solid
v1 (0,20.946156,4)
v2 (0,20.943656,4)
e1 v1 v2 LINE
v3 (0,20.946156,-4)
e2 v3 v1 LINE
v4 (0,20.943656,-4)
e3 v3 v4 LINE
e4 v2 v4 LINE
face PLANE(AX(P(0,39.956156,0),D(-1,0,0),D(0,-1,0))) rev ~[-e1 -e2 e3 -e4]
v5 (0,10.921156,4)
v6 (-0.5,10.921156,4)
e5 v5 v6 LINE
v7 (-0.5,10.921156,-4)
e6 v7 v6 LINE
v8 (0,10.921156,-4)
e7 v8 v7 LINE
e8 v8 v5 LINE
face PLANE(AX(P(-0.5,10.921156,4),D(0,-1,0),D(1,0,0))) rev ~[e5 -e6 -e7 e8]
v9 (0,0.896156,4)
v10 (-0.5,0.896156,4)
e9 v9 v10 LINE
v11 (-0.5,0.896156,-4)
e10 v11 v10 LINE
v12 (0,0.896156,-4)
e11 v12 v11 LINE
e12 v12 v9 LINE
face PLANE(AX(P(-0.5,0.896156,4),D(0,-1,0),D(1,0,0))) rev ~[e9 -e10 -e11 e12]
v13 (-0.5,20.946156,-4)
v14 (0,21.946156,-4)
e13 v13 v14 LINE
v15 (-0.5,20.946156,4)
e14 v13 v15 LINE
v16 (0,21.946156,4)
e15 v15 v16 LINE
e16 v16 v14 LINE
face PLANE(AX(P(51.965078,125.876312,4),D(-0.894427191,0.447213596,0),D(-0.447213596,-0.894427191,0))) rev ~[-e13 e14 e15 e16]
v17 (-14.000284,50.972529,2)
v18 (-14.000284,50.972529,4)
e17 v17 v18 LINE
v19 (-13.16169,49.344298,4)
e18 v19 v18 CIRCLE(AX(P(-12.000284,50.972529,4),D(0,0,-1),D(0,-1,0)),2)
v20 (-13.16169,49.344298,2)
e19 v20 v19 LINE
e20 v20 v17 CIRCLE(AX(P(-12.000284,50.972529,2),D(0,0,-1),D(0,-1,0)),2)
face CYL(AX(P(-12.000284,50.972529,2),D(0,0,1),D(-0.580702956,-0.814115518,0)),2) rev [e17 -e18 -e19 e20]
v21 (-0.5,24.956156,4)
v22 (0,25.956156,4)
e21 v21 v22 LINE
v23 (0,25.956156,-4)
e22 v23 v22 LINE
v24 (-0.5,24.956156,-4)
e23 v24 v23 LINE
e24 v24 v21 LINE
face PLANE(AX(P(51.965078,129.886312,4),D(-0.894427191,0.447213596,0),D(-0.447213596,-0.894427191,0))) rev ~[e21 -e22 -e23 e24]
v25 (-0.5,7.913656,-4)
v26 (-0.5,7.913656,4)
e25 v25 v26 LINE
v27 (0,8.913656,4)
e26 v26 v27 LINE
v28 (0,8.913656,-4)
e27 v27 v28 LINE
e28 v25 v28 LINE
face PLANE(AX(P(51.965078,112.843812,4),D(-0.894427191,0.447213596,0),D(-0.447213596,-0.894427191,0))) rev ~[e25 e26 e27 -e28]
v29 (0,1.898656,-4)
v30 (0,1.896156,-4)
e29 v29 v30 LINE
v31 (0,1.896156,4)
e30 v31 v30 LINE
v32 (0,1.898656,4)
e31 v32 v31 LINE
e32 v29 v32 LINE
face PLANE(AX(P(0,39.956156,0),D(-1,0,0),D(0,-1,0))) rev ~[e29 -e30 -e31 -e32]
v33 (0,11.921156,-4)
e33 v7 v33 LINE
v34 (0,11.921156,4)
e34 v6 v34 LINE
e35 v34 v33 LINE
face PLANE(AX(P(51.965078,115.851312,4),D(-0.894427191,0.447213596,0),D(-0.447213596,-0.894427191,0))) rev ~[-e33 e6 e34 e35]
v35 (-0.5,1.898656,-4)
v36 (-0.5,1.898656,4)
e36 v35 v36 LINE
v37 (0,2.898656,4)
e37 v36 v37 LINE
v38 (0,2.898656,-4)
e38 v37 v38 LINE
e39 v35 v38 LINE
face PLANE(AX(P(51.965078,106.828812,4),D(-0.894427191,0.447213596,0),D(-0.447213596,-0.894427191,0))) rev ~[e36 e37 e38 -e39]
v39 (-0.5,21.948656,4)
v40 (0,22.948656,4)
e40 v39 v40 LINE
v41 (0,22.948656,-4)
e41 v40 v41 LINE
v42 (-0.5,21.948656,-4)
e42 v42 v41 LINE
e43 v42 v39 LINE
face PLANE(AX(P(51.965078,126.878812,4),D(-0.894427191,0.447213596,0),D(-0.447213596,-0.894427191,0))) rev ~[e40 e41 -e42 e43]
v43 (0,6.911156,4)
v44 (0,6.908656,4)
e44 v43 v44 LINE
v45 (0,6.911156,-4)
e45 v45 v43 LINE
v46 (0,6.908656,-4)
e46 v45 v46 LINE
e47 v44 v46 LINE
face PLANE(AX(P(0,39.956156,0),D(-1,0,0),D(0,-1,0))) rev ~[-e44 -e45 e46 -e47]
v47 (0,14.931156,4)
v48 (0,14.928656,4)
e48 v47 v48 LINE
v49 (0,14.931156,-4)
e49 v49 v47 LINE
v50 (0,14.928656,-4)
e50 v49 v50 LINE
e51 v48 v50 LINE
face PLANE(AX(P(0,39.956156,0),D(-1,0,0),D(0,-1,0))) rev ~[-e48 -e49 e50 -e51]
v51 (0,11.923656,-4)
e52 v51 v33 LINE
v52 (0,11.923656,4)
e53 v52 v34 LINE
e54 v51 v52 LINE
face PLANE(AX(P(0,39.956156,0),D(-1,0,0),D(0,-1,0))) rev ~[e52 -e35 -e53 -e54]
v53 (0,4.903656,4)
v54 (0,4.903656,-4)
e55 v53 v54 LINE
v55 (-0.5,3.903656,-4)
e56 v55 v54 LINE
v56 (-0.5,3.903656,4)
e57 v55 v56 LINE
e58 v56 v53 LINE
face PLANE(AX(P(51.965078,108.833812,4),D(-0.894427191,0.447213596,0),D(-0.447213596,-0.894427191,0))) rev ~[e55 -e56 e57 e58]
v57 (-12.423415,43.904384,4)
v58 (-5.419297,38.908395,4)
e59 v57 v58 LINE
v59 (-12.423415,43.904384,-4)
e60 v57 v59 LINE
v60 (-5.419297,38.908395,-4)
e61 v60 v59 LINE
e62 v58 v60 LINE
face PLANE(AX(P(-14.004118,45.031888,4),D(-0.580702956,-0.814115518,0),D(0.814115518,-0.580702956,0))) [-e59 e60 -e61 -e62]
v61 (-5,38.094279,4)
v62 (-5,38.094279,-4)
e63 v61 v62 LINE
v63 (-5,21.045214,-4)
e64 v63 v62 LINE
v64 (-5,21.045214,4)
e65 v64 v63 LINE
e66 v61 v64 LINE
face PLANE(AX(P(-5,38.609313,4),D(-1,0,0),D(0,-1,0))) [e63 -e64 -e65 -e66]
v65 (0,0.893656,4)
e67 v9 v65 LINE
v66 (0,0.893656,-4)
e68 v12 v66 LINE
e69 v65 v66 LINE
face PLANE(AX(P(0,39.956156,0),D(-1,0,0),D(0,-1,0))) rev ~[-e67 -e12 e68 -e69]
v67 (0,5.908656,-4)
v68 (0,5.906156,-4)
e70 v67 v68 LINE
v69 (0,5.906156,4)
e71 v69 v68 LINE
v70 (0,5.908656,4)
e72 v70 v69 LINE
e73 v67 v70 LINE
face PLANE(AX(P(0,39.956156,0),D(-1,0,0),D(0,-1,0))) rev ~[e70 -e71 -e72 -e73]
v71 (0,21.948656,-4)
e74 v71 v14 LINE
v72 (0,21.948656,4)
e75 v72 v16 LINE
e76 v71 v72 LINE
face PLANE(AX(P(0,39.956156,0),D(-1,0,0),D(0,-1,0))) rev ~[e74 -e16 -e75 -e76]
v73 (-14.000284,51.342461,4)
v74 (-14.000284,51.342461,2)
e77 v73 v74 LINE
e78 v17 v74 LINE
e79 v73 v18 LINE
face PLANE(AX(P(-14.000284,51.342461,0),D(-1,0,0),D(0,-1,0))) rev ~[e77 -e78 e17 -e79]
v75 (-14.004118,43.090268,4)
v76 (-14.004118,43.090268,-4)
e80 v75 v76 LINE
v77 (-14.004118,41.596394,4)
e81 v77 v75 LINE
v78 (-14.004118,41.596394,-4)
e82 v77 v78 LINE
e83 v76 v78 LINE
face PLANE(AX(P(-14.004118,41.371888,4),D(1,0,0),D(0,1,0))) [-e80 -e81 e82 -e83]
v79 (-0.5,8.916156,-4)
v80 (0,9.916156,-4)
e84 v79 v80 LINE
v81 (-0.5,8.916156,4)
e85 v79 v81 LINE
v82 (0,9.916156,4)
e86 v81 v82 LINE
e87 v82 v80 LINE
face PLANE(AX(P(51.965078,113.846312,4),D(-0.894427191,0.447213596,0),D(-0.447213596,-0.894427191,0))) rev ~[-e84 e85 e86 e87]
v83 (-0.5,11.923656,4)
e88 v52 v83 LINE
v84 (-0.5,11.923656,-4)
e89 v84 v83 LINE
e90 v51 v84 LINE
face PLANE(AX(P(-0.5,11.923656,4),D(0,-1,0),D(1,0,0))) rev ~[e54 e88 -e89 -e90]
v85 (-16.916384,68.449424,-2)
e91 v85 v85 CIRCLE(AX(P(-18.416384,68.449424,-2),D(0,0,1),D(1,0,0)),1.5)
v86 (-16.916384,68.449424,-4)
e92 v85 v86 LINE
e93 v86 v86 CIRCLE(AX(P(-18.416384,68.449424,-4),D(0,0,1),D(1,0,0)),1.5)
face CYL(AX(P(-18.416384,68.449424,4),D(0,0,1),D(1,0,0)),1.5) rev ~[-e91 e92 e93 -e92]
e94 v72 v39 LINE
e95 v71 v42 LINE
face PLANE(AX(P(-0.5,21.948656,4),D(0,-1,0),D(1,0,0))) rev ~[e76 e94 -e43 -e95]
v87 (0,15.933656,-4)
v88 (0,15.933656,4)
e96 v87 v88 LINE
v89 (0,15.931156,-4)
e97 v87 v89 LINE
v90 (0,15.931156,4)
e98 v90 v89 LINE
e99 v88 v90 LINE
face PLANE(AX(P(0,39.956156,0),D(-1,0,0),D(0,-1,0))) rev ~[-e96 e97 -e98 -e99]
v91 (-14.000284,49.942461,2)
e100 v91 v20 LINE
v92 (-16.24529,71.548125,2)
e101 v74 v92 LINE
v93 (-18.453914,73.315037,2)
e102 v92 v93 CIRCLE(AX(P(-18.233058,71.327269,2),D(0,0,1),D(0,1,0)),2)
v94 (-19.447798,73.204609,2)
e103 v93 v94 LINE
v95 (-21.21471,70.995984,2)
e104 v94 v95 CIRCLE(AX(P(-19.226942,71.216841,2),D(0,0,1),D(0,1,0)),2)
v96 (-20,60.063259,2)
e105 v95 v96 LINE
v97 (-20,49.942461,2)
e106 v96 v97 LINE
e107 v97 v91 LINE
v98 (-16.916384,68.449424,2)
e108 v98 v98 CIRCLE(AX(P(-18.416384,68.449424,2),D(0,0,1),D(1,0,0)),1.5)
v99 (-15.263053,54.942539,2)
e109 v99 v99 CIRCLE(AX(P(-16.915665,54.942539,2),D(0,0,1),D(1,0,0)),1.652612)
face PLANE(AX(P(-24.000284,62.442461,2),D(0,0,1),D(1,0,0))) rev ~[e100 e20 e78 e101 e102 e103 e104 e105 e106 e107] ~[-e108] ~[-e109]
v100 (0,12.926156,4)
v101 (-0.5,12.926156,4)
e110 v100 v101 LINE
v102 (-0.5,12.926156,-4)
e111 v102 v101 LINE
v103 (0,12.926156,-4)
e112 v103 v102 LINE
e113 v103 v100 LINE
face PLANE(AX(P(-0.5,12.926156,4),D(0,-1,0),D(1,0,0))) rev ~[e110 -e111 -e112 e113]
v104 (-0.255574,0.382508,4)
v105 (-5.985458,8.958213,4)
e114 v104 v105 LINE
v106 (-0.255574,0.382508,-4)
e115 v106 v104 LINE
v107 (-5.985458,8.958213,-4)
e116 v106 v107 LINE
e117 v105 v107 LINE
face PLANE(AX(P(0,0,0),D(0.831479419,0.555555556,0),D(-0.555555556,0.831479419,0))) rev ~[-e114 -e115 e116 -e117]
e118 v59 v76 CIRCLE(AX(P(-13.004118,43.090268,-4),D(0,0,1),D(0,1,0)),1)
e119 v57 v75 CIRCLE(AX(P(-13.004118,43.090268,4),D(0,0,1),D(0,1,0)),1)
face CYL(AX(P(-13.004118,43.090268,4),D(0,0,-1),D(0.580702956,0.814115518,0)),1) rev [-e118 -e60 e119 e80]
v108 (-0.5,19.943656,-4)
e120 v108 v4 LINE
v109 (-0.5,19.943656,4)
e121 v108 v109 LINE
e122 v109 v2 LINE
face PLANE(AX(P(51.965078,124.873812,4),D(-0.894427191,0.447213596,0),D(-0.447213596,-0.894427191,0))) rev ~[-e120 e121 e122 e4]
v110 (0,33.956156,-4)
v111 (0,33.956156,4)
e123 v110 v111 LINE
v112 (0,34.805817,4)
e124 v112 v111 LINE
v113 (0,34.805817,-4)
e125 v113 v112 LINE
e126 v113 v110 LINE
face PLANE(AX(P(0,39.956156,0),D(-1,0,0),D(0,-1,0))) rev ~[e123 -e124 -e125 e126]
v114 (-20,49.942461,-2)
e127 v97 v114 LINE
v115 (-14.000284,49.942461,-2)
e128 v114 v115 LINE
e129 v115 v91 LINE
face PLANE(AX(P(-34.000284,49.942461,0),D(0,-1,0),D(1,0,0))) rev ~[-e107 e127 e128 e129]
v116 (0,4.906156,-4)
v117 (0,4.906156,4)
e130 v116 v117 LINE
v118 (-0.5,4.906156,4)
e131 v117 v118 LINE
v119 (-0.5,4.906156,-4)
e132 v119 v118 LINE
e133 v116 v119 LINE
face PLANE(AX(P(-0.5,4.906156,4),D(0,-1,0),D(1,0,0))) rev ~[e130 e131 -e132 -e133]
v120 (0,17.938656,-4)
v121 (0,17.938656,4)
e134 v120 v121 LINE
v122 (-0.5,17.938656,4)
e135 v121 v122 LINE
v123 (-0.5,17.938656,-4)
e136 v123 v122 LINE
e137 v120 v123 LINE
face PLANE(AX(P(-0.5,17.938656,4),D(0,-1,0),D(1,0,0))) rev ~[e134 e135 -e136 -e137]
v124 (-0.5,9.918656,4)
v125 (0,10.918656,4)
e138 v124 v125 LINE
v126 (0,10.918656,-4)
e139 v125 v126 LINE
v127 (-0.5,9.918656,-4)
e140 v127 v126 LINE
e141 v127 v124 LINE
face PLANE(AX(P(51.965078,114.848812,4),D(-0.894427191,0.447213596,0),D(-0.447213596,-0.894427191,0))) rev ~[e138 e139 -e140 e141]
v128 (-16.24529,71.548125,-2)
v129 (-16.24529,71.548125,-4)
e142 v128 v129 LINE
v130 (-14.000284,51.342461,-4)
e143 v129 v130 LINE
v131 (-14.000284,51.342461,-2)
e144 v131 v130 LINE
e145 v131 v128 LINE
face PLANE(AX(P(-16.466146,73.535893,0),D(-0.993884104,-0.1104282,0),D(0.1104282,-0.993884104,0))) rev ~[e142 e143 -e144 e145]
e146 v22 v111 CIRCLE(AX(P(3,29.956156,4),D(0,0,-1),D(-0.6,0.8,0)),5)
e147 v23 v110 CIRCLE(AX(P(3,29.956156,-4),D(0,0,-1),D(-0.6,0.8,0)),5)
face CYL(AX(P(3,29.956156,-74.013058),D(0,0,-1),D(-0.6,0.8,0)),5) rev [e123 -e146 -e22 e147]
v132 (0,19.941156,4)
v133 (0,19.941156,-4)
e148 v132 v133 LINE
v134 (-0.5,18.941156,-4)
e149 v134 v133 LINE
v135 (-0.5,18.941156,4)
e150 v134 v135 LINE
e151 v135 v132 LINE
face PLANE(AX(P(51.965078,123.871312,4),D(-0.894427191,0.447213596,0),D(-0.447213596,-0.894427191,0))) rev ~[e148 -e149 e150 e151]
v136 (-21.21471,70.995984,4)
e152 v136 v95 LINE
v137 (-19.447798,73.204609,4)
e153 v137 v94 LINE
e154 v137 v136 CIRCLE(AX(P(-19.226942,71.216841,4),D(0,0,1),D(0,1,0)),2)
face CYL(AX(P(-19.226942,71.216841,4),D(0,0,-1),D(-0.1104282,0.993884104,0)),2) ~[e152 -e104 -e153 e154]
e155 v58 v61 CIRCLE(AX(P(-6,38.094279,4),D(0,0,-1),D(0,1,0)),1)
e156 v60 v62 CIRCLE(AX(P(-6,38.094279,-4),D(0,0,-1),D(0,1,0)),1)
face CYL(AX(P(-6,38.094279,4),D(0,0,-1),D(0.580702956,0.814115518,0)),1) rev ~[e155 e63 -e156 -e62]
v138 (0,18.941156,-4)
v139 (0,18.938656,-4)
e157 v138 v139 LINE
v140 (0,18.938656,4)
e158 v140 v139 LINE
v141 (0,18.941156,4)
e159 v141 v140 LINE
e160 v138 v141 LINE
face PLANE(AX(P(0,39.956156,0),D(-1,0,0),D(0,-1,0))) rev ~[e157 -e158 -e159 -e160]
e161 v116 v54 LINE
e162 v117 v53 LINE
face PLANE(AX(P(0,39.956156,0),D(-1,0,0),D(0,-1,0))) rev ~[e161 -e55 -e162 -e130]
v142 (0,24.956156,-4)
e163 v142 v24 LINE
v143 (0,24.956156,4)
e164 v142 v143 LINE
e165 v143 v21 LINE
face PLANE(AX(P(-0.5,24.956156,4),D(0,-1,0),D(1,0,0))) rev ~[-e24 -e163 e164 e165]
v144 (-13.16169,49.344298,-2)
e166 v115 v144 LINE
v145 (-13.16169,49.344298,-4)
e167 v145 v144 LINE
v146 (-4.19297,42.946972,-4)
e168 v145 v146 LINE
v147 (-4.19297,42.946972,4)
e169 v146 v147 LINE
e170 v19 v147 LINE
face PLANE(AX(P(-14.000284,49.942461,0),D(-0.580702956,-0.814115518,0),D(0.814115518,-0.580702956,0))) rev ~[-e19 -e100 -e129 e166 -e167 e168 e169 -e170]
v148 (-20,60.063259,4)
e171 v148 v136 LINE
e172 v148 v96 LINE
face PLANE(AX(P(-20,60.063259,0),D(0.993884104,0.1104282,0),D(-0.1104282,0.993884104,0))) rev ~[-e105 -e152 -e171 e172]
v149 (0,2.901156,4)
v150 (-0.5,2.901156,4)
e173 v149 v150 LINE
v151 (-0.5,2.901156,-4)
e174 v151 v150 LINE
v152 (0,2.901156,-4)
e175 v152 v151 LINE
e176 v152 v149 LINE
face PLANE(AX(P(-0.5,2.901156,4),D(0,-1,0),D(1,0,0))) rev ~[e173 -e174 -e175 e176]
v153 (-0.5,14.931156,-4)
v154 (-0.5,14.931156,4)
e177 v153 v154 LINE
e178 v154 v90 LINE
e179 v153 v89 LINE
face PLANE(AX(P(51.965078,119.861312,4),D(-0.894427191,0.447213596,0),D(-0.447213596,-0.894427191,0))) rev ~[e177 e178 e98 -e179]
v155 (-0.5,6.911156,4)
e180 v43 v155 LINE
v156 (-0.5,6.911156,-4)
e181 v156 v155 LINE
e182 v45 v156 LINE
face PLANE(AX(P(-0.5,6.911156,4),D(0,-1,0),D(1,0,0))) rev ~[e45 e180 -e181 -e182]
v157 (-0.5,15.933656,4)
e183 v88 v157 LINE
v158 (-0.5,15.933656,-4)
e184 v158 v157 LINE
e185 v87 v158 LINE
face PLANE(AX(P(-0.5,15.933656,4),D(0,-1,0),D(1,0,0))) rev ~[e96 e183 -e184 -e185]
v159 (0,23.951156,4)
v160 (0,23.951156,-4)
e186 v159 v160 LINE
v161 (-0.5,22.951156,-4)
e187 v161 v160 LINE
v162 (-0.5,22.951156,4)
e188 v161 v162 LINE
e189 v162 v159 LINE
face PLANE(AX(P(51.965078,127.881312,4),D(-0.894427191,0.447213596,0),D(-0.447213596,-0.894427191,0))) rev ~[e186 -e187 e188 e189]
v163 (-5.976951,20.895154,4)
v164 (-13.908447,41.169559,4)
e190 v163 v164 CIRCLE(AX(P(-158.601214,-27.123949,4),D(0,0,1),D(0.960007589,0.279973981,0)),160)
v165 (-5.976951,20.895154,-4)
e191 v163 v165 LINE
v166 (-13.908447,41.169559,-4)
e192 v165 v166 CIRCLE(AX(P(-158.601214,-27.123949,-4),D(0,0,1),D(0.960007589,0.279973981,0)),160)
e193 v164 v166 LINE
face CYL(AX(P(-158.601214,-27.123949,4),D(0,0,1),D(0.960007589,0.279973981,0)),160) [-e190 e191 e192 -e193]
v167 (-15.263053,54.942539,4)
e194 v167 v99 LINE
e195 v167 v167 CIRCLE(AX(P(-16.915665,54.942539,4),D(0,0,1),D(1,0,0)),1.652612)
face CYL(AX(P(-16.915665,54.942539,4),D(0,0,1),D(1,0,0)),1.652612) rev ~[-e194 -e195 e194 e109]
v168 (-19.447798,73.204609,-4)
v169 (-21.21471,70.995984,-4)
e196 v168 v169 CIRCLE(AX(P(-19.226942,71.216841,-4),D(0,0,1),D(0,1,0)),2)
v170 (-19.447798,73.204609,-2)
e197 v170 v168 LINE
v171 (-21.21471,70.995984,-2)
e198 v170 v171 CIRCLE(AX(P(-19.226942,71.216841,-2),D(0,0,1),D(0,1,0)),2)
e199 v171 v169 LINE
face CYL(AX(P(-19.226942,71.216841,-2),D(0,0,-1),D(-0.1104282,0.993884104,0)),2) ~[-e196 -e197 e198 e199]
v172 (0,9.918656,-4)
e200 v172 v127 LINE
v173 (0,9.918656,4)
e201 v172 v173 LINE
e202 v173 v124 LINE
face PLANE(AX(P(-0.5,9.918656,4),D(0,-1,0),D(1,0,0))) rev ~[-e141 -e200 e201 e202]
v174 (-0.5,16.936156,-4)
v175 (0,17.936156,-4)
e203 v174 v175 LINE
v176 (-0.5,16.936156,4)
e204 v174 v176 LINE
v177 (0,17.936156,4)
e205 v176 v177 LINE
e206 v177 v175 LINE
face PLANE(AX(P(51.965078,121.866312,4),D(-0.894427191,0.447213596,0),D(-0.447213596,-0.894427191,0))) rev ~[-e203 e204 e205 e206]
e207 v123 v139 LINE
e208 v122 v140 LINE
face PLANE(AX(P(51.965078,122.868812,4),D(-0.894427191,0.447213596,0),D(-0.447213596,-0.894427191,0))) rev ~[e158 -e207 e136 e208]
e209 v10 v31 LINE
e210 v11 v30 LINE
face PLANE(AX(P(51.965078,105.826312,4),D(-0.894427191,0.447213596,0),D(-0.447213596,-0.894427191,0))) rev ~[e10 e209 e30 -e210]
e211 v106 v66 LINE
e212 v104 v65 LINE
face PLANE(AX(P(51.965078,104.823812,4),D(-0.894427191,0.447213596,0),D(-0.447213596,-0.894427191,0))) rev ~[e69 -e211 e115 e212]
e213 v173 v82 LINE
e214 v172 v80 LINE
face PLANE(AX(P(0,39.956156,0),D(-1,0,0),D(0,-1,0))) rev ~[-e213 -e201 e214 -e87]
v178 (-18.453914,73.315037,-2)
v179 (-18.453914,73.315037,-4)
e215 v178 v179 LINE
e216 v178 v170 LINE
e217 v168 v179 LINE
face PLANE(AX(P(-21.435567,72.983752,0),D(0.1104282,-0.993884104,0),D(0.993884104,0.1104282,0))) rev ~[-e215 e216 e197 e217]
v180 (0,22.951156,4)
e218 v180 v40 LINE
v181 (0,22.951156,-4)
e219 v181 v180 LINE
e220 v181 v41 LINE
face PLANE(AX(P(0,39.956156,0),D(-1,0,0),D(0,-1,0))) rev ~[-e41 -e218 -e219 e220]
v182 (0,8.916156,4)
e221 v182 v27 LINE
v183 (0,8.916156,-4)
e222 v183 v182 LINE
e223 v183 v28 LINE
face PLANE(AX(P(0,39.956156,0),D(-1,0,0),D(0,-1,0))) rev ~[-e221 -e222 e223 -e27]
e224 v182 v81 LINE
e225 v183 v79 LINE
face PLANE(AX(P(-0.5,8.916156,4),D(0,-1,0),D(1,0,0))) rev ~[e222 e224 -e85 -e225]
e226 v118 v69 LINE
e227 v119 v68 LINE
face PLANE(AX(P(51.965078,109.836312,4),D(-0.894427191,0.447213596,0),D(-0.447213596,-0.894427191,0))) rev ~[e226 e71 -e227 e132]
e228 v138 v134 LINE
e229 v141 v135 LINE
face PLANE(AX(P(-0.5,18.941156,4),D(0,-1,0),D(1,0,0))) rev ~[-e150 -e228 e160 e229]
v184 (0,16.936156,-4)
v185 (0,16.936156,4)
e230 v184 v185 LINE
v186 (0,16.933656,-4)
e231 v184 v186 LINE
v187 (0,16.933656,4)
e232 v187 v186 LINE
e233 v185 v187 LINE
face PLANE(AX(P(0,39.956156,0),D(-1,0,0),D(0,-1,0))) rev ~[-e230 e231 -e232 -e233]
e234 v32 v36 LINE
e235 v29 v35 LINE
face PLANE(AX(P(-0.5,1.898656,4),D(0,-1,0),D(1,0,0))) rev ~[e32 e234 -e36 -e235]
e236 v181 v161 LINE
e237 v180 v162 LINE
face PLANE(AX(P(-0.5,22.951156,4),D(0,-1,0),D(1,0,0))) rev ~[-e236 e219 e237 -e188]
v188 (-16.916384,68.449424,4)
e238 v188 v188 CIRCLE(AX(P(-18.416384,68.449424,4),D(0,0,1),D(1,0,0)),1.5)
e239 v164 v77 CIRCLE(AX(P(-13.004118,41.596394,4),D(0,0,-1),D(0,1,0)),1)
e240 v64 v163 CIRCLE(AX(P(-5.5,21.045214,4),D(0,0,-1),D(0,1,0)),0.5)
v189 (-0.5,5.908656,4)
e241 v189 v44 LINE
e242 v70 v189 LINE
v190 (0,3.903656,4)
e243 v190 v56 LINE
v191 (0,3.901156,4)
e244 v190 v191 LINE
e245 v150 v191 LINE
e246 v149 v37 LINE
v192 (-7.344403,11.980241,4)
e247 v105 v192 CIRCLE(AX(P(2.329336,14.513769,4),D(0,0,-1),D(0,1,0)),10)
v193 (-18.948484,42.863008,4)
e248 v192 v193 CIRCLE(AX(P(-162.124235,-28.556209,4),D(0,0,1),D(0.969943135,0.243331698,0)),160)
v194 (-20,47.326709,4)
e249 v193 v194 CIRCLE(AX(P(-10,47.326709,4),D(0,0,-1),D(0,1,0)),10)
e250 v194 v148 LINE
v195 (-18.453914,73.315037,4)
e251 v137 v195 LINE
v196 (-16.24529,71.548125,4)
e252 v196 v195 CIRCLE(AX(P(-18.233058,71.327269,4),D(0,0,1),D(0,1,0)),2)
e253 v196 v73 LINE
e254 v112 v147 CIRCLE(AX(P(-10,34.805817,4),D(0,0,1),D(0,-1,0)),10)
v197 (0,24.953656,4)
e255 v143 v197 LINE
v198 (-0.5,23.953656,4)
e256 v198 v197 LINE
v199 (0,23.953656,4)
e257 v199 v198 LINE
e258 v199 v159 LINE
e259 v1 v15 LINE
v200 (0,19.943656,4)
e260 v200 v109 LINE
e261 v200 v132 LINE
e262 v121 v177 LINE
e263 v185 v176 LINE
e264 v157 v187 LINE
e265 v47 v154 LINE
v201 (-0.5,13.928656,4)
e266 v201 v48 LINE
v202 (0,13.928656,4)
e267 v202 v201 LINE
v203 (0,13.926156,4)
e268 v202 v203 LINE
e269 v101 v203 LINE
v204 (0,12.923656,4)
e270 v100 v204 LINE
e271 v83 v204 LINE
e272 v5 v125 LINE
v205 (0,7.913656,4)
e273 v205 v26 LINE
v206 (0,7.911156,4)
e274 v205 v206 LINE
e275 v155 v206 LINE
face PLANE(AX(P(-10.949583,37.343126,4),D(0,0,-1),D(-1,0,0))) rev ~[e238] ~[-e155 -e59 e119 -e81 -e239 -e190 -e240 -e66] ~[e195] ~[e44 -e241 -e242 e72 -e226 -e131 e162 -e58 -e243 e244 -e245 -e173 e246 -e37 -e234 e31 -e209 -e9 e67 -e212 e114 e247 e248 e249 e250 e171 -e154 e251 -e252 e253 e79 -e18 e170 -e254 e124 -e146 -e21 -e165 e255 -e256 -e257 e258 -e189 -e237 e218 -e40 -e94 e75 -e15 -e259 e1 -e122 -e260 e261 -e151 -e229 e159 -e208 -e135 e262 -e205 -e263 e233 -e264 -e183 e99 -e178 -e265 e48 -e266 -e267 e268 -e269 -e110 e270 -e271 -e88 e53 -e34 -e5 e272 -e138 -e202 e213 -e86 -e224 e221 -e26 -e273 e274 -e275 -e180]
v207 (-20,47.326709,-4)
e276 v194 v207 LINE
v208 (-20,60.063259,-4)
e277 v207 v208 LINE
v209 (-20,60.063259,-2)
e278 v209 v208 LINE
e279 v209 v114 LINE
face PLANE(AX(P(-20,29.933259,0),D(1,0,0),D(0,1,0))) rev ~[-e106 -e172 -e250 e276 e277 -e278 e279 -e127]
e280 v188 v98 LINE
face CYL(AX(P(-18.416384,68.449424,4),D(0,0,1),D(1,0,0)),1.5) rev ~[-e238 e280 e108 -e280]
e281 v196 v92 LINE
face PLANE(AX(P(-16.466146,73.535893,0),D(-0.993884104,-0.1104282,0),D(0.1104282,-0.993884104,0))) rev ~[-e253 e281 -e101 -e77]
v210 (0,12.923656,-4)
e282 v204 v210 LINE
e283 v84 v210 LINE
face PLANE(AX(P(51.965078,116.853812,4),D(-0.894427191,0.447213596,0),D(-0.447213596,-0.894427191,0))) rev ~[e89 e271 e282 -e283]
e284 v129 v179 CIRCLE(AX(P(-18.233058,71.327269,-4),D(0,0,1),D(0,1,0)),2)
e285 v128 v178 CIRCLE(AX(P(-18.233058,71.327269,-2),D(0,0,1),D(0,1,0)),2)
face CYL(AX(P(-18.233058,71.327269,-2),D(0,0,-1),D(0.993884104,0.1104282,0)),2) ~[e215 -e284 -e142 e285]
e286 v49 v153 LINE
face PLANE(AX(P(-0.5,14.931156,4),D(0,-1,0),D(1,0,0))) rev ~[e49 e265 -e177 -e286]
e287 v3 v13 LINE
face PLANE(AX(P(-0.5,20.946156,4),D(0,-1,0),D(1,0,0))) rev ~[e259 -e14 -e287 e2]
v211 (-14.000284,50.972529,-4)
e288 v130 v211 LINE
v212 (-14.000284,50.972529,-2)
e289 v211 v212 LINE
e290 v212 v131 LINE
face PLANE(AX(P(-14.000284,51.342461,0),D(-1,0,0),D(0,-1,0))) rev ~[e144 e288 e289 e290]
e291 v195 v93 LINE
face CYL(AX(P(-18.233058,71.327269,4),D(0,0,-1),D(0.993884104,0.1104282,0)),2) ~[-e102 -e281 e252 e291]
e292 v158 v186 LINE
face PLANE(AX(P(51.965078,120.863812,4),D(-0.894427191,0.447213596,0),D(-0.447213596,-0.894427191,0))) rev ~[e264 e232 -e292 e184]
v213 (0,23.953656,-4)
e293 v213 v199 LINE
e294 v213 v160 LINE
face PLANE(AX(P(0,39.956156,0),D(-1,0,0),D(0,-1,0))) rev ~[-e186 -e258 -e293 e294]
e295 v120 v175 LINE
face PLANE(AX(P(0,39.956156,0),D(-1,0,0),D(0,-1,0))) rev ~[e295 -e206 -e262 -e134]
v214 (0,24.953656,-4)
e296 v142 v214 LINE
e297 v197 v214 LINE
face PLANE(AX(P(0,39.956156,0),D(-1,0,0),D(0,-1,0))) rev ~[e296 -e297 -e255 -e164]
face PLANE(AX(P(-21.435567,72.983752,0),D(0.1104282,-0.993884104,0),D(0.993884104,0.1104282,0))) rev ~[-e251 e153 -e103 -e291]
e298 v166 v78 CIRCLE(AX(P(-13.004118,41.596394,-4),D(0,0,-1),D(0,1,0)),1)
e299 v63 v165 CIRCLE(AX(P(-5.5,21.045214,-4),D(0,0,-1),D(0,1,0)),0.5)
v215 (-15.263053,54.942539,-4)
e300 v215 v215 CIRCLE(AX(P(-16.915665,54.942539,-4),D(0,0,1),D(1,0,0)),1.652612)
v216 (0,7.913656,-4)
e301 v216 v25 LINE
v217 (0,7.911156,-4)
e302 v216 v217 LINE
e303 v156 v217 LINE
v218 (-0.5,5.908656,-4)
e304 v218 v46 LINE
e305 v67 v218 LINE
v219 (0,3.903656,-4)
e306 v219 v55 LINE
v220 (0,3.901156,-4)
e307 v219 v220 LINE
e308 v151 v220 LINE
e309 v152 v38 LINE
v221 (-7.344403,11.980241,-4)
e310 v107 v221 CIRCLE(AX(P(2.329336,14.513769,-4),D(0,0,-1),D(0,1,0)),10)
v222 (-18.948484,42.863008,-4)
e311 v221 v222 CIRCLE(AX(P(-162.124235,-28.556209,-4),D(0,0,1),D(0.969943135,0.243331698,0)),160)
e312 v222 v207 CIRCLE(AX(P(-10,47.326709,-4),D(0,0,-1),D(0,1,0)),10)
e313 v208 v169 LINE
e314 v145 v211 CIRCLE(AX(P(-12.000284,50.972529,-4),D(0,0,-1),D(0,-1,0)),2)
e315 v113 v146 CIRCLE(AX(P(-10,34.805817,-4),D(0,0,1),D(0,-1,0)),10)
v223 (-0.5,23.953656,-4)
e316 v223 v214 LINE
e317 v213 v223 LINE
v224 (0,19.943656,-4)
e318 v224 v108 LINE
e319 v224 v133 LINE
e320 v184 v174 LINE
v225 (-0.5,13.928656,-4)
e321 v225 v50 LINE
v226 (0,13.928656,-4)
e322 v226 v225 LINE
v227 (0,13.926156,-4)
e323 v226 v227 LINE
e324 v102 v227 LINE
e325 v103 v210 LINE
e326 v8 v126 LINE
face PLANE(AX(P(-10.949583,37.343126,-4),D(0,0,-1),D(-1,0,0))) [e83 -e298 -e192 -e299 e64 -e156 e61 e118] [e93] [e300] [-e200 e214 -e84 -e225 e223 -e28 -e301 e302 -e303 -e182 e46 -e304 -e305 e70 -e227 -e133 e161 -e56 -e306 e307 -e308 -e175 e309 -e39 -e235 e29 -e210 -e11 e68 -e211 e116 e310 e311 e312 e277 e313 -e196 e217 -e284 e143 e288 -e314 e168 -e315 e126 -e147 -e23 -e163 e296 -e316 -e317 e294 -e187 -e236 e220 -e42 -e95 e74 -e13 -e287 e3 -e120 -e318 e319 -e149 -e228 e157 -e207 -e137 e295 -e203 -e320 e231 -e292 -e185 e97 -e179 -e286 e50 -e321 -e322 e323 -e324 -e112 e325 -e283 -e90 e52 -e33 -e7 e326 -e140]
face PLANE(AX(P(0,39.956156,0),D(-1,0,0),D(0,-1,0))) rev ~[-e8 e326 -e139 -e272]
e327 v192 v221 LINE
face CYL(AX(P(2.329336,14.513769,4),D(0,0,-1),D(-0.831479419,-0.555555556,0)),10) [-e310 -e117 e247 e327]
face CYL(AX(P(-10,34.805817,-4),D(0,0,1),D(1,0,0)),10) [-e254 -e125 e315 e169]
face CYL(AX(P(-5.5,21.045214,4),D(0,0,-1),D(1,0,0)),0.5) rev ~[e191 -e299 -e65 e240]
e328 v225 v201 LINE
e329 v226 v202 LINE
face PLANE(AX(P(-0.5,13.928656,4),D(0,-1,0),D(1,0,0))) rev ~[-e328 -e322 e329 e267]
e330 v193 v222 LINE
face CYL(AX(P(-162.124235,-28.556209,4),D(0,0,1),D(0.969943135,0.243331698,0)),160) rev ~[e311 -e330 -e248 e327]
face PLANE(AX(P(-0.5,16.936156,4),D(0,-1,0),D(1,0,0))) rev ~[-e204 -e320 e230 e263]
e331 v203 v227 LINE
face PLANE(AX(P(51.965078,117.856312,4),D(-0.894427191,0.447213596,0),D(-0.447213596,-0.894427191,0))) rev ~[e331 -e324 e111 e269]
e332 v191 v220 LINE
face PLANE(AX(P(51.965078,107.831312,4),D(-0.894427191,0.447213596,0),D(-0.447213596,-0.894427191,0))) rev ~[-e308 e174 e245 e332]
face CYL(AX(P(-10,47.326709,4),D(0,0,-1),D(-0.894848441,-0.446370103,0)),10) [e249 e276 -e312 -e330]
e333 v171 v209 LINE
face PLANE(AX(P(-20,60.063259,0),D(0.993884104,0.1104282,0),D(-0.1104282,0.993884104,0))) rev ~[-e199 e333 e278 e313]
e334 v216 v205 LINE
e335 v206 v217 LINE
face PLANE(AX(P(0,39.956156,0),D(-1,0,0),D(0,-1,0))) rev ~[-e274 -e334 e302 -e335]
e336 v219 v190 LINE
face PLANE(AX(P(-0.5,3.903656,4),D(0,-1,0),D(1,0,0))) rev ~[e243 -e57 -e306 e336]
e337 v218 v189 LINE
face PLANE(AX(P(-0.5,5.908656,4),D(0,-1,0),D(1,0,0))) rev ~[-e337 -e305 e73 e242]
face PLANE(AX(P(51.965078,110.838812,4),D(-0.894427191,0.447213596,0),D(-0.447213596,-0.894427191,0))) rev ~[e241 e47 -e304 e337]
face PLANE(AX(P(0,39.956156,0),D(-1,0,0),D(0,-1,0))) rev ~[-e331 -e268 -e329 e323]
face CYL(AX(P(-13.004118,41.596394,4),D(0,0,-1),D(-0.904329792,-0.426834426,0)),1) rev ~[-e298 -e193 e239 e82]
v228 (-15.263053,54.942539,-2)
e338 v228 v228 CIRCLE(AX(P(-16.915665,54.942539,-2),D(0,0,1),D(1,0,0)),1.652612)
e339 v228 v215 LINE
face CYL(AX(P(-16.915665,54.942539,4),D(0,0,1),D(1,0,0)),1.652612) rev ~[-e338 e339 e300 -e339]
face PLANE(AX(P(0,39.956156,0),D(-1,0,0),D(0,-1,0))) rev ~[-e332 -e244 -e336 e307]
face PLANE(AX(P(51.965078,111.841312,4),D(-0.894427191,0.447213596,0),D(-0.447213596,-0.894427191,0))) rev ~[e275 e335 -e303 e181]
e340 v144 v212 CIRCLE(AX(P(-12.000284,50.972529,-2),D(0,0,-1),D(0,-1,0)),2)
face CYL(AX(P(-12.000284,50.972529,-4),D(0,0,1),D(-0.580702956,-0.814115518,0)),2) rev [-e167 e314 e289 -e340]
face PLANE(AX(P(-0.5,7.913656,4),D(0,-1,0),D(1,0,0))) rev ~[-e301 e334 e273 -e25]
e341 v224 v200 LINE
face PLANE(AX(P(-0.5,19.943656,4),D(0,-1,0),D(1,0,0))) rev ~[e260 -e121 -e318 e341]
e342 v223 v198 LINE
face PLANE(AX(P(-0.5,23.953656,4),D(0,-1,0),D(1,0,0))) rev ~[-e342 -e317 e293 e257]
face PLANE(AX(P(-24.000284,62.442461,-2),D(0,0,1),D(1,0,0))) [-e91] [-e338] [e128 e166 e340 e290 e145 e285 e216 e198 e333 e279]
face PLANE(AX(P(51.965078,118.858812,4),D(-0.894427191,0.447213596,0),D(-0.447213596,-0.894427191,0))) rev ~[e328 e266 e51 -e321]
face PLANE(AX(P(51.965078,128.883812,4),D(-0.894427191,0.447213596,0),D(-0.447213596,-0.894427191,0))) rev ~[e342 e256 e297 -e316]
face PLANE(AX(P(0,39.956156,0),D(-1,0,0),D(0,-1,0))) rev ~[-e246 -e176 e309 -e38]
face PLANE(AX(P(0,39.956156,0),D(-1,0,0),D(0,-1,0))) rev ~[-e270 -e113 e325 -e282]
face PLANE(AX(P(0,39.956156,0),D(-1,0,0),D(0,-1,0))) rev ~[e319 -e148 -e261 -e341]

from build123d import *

# Parameters (mm, degrees)
BOSS_EXTRUDE1_DEPTH     = 4
SKETCH2_W               = 20
SKETCH2_H               = 25
CUT_EXTRUDE1_DEPTH      = 2
CUT_EXTRUDE2_DEPTH      = 78.013058248
CUT_EXTRUDE2_DEPTH_BACK = 78.013058248
CUT_EXTRUDE3_DEPTH      = 78.013058248
LPATTERN1_COUNT         = 26
LPATTERN1_PITCH         = 1.0025
CUT_EXTRUDE4_DEPTH      = 78.013058248
CUT_EXTRUDE5_DEPTH      = 78.013058248
FILLET1_R               = 10
FILLET2_R               = 2
FILLET3_R               = 1
FILLET4_R               = 0.5
SKETCH9_R               = 1.5
SKETCH9_R_2             = 1.652612025
CUT_EXTRUDE6_DEPTH      = 77.755921087


with BuildPart() as part:
    # Sketch1 → Boss-Extrude1 (new, symmetric)
    with BuildSketch(Plane.XY):
        Polygon((0, 0), (-20, 29.933259094), (-20, 60.063259094), (-21.435566599, 72.983752449), (-16.466146078, 73.535893449), (-14.000284373, 51.342461401), (-14.000284373, 49.942461401), (0, 39.956155609), align=None)
    extrude(amount=BOSS_EXTRUDE1_DEPTH, both=True)

    # Sketch2 → Cut-Extrude1 (cut, symmetric)
    with BuildSketch(Plane.XY):
        with Locations((-24.000284373, 62.442461401)):
            Rectangle(SKETCH2_W, SKETCH2_H)
    extrude(amount=CUT_EXTRUDE1_DEPTH, both=True, mode=Mode.SUBTRACT)

    # Sketch3 → Cut-Extrude2 (cut, two sides: drawn at the far end of the back side and taken through both)
    with BuildSketch(Plane.XY.offset(4).offset(-CUT_EXTRUDE2_DEPTH_BACK)):
        with BuildLine():
            Line((91.496624596, 102.578624056), (0, 33.956155609))
            ThreePointArc((0, 33.956155609), (-2, 29.956155609), (0, 25.956155609))
            Line((0, 25.956155609), (91.496624596, -42.666312838))
            Line((91.496624596, -42.666312838), (320.238186086, -42.666312838))
            Line((320.238186086, -42.666312838), (320.238186086, 102.578624056))
            Line((320.238186086, 102.578624056), (91.496624596, 102.578624056))
        make_face()
    extrude(amount=CUT_EXTRUDE2_DEPTH + CUT_EXTRUDE2_DEPTH_BACK, mode=Mode.SUBTRACT)

    # Sketch4 → Cut-Extrude3 (cut, symmetric)
    with BuildSketch(Plane.XY.offset(4)):
        Polygon((51.965078117, 129.886311843), (0, 25.956155609), (-0.5, 24.956155609), (0, 24.956155609), (116.197447126, 24.956155609), (314.404638126, 146.287504856), (250.172269117, 251.21766109), align=None)
    cut_extrude3 = extrude(amount=CUT_EXTRUDE3_DEPTH, both=True, mode=Mode.SUBTRACT)

    # LPattern1: Cut-Extrude3 ×26
    with Locations(*[(0, -i * LPATTERN1_PITCH, 0) for i in range(1, LPATTERN1_COUNT)]):
        add(cut_extrude3, mode=Mode.SUBTRACT)

    # Sketch5 → Cut-Extrude4 (cut, through all)
    with BuildSketch(Plane.XY.offset(4)):
        with BuildLine():
            Line((-20, 44.933259094), (-20, 29.933259094))
            Line((-20, 29.933259094), (-6.933333333, 10.376863153))
            ThreePointArc((-6.933333333, 10.376863153), (-12.465928354, 28.033466151), (-20, 44.933259094))
        make_face()
    extrude(amount=-CUT_EXTRUDE4_DEPTH, mode=Mode.SUBTRACT)

    # Sketch6 → Cut-Extrude5 (cut, through all)
    with BuildSketch(Plane.XY.offset(4)):
        with BuildLine():
            Line((-14.004117633, 45.031887994), (-5, 38.609313304))
            Line((-5, 38.609313304), (-5, 17.671887994))
            ThreePointArc((-5, 17.671887994), (-9.031897039, 29.700512127), (-14.004117633, 41.371887994))
            Line((-14.004117633, 41.371887994), (-14.004117633, 45.031887994))
        make_face()
    extrude(amount=-CUT_EXTRUDE5_DEPTH, mode=Mode.SUBTRACT)

    # Fillet1
    fillet1_edges = [part.edges().sort_by_distance(p)[0] for p in [
        (0, 39.956155609, 0),
        (-20, 44.933259094, 0),
        (-6.933333333, 10.376863153, 0),
    ]]
    fillet(fillet1_edges, radius=FILLET1_R)

    # Fillet2
    fillet2_edges = [part.edges().sort_by_distance(p)[0] for p in [
        (-21.435566599, 72.983752449, 3),
        (-16.466146078, 73.535893449, 3),
        (-14.000284373, 49.942461401, 3),
        (-21.435566599, 72.983752449, -3),
        (-16.466146078, 73.535893449, -3),
        (-14.000284373, 49.942461401, -3),
    ]]
    fillet(fillet2_edges, radius=FILLET2_R)

    # Fillet3
    fillet3_edges = [part.edges().sort_by_distance(p)[0] for p in [
        (-14.004117633, 41.371887994, 0),
        (-14.004117633, 45.031887994, 0),
        (-5, 38.609313304, 0),
    ]]
    fillet(fillet3_edges, radius=FILLET3_R)

    # Fillet4
    fillet4_edges = [part.edges().sort_by_distance(p)[0] for p in [
        (-5, 17.671887994, 0),
    ]]
    fillet(fillet4_edges, radius=FILLET4_R)

    # Sketch9 → Cut-Extrude6 (cut, through all)
    with BuildSketch(Plane.XY.offset(4)):
        with Locations((-18.416383851, 68.449423885)):
            Circle(SKETCH9_R)
        with Locations((-16.915664614, 54.942538908)):
            Circle(SKETCH9_R_2)
    extrude(amount=-CUT_EXTRUDE6_DEPTH, mode=Mode.SUBTRACT)


solid = part.part
